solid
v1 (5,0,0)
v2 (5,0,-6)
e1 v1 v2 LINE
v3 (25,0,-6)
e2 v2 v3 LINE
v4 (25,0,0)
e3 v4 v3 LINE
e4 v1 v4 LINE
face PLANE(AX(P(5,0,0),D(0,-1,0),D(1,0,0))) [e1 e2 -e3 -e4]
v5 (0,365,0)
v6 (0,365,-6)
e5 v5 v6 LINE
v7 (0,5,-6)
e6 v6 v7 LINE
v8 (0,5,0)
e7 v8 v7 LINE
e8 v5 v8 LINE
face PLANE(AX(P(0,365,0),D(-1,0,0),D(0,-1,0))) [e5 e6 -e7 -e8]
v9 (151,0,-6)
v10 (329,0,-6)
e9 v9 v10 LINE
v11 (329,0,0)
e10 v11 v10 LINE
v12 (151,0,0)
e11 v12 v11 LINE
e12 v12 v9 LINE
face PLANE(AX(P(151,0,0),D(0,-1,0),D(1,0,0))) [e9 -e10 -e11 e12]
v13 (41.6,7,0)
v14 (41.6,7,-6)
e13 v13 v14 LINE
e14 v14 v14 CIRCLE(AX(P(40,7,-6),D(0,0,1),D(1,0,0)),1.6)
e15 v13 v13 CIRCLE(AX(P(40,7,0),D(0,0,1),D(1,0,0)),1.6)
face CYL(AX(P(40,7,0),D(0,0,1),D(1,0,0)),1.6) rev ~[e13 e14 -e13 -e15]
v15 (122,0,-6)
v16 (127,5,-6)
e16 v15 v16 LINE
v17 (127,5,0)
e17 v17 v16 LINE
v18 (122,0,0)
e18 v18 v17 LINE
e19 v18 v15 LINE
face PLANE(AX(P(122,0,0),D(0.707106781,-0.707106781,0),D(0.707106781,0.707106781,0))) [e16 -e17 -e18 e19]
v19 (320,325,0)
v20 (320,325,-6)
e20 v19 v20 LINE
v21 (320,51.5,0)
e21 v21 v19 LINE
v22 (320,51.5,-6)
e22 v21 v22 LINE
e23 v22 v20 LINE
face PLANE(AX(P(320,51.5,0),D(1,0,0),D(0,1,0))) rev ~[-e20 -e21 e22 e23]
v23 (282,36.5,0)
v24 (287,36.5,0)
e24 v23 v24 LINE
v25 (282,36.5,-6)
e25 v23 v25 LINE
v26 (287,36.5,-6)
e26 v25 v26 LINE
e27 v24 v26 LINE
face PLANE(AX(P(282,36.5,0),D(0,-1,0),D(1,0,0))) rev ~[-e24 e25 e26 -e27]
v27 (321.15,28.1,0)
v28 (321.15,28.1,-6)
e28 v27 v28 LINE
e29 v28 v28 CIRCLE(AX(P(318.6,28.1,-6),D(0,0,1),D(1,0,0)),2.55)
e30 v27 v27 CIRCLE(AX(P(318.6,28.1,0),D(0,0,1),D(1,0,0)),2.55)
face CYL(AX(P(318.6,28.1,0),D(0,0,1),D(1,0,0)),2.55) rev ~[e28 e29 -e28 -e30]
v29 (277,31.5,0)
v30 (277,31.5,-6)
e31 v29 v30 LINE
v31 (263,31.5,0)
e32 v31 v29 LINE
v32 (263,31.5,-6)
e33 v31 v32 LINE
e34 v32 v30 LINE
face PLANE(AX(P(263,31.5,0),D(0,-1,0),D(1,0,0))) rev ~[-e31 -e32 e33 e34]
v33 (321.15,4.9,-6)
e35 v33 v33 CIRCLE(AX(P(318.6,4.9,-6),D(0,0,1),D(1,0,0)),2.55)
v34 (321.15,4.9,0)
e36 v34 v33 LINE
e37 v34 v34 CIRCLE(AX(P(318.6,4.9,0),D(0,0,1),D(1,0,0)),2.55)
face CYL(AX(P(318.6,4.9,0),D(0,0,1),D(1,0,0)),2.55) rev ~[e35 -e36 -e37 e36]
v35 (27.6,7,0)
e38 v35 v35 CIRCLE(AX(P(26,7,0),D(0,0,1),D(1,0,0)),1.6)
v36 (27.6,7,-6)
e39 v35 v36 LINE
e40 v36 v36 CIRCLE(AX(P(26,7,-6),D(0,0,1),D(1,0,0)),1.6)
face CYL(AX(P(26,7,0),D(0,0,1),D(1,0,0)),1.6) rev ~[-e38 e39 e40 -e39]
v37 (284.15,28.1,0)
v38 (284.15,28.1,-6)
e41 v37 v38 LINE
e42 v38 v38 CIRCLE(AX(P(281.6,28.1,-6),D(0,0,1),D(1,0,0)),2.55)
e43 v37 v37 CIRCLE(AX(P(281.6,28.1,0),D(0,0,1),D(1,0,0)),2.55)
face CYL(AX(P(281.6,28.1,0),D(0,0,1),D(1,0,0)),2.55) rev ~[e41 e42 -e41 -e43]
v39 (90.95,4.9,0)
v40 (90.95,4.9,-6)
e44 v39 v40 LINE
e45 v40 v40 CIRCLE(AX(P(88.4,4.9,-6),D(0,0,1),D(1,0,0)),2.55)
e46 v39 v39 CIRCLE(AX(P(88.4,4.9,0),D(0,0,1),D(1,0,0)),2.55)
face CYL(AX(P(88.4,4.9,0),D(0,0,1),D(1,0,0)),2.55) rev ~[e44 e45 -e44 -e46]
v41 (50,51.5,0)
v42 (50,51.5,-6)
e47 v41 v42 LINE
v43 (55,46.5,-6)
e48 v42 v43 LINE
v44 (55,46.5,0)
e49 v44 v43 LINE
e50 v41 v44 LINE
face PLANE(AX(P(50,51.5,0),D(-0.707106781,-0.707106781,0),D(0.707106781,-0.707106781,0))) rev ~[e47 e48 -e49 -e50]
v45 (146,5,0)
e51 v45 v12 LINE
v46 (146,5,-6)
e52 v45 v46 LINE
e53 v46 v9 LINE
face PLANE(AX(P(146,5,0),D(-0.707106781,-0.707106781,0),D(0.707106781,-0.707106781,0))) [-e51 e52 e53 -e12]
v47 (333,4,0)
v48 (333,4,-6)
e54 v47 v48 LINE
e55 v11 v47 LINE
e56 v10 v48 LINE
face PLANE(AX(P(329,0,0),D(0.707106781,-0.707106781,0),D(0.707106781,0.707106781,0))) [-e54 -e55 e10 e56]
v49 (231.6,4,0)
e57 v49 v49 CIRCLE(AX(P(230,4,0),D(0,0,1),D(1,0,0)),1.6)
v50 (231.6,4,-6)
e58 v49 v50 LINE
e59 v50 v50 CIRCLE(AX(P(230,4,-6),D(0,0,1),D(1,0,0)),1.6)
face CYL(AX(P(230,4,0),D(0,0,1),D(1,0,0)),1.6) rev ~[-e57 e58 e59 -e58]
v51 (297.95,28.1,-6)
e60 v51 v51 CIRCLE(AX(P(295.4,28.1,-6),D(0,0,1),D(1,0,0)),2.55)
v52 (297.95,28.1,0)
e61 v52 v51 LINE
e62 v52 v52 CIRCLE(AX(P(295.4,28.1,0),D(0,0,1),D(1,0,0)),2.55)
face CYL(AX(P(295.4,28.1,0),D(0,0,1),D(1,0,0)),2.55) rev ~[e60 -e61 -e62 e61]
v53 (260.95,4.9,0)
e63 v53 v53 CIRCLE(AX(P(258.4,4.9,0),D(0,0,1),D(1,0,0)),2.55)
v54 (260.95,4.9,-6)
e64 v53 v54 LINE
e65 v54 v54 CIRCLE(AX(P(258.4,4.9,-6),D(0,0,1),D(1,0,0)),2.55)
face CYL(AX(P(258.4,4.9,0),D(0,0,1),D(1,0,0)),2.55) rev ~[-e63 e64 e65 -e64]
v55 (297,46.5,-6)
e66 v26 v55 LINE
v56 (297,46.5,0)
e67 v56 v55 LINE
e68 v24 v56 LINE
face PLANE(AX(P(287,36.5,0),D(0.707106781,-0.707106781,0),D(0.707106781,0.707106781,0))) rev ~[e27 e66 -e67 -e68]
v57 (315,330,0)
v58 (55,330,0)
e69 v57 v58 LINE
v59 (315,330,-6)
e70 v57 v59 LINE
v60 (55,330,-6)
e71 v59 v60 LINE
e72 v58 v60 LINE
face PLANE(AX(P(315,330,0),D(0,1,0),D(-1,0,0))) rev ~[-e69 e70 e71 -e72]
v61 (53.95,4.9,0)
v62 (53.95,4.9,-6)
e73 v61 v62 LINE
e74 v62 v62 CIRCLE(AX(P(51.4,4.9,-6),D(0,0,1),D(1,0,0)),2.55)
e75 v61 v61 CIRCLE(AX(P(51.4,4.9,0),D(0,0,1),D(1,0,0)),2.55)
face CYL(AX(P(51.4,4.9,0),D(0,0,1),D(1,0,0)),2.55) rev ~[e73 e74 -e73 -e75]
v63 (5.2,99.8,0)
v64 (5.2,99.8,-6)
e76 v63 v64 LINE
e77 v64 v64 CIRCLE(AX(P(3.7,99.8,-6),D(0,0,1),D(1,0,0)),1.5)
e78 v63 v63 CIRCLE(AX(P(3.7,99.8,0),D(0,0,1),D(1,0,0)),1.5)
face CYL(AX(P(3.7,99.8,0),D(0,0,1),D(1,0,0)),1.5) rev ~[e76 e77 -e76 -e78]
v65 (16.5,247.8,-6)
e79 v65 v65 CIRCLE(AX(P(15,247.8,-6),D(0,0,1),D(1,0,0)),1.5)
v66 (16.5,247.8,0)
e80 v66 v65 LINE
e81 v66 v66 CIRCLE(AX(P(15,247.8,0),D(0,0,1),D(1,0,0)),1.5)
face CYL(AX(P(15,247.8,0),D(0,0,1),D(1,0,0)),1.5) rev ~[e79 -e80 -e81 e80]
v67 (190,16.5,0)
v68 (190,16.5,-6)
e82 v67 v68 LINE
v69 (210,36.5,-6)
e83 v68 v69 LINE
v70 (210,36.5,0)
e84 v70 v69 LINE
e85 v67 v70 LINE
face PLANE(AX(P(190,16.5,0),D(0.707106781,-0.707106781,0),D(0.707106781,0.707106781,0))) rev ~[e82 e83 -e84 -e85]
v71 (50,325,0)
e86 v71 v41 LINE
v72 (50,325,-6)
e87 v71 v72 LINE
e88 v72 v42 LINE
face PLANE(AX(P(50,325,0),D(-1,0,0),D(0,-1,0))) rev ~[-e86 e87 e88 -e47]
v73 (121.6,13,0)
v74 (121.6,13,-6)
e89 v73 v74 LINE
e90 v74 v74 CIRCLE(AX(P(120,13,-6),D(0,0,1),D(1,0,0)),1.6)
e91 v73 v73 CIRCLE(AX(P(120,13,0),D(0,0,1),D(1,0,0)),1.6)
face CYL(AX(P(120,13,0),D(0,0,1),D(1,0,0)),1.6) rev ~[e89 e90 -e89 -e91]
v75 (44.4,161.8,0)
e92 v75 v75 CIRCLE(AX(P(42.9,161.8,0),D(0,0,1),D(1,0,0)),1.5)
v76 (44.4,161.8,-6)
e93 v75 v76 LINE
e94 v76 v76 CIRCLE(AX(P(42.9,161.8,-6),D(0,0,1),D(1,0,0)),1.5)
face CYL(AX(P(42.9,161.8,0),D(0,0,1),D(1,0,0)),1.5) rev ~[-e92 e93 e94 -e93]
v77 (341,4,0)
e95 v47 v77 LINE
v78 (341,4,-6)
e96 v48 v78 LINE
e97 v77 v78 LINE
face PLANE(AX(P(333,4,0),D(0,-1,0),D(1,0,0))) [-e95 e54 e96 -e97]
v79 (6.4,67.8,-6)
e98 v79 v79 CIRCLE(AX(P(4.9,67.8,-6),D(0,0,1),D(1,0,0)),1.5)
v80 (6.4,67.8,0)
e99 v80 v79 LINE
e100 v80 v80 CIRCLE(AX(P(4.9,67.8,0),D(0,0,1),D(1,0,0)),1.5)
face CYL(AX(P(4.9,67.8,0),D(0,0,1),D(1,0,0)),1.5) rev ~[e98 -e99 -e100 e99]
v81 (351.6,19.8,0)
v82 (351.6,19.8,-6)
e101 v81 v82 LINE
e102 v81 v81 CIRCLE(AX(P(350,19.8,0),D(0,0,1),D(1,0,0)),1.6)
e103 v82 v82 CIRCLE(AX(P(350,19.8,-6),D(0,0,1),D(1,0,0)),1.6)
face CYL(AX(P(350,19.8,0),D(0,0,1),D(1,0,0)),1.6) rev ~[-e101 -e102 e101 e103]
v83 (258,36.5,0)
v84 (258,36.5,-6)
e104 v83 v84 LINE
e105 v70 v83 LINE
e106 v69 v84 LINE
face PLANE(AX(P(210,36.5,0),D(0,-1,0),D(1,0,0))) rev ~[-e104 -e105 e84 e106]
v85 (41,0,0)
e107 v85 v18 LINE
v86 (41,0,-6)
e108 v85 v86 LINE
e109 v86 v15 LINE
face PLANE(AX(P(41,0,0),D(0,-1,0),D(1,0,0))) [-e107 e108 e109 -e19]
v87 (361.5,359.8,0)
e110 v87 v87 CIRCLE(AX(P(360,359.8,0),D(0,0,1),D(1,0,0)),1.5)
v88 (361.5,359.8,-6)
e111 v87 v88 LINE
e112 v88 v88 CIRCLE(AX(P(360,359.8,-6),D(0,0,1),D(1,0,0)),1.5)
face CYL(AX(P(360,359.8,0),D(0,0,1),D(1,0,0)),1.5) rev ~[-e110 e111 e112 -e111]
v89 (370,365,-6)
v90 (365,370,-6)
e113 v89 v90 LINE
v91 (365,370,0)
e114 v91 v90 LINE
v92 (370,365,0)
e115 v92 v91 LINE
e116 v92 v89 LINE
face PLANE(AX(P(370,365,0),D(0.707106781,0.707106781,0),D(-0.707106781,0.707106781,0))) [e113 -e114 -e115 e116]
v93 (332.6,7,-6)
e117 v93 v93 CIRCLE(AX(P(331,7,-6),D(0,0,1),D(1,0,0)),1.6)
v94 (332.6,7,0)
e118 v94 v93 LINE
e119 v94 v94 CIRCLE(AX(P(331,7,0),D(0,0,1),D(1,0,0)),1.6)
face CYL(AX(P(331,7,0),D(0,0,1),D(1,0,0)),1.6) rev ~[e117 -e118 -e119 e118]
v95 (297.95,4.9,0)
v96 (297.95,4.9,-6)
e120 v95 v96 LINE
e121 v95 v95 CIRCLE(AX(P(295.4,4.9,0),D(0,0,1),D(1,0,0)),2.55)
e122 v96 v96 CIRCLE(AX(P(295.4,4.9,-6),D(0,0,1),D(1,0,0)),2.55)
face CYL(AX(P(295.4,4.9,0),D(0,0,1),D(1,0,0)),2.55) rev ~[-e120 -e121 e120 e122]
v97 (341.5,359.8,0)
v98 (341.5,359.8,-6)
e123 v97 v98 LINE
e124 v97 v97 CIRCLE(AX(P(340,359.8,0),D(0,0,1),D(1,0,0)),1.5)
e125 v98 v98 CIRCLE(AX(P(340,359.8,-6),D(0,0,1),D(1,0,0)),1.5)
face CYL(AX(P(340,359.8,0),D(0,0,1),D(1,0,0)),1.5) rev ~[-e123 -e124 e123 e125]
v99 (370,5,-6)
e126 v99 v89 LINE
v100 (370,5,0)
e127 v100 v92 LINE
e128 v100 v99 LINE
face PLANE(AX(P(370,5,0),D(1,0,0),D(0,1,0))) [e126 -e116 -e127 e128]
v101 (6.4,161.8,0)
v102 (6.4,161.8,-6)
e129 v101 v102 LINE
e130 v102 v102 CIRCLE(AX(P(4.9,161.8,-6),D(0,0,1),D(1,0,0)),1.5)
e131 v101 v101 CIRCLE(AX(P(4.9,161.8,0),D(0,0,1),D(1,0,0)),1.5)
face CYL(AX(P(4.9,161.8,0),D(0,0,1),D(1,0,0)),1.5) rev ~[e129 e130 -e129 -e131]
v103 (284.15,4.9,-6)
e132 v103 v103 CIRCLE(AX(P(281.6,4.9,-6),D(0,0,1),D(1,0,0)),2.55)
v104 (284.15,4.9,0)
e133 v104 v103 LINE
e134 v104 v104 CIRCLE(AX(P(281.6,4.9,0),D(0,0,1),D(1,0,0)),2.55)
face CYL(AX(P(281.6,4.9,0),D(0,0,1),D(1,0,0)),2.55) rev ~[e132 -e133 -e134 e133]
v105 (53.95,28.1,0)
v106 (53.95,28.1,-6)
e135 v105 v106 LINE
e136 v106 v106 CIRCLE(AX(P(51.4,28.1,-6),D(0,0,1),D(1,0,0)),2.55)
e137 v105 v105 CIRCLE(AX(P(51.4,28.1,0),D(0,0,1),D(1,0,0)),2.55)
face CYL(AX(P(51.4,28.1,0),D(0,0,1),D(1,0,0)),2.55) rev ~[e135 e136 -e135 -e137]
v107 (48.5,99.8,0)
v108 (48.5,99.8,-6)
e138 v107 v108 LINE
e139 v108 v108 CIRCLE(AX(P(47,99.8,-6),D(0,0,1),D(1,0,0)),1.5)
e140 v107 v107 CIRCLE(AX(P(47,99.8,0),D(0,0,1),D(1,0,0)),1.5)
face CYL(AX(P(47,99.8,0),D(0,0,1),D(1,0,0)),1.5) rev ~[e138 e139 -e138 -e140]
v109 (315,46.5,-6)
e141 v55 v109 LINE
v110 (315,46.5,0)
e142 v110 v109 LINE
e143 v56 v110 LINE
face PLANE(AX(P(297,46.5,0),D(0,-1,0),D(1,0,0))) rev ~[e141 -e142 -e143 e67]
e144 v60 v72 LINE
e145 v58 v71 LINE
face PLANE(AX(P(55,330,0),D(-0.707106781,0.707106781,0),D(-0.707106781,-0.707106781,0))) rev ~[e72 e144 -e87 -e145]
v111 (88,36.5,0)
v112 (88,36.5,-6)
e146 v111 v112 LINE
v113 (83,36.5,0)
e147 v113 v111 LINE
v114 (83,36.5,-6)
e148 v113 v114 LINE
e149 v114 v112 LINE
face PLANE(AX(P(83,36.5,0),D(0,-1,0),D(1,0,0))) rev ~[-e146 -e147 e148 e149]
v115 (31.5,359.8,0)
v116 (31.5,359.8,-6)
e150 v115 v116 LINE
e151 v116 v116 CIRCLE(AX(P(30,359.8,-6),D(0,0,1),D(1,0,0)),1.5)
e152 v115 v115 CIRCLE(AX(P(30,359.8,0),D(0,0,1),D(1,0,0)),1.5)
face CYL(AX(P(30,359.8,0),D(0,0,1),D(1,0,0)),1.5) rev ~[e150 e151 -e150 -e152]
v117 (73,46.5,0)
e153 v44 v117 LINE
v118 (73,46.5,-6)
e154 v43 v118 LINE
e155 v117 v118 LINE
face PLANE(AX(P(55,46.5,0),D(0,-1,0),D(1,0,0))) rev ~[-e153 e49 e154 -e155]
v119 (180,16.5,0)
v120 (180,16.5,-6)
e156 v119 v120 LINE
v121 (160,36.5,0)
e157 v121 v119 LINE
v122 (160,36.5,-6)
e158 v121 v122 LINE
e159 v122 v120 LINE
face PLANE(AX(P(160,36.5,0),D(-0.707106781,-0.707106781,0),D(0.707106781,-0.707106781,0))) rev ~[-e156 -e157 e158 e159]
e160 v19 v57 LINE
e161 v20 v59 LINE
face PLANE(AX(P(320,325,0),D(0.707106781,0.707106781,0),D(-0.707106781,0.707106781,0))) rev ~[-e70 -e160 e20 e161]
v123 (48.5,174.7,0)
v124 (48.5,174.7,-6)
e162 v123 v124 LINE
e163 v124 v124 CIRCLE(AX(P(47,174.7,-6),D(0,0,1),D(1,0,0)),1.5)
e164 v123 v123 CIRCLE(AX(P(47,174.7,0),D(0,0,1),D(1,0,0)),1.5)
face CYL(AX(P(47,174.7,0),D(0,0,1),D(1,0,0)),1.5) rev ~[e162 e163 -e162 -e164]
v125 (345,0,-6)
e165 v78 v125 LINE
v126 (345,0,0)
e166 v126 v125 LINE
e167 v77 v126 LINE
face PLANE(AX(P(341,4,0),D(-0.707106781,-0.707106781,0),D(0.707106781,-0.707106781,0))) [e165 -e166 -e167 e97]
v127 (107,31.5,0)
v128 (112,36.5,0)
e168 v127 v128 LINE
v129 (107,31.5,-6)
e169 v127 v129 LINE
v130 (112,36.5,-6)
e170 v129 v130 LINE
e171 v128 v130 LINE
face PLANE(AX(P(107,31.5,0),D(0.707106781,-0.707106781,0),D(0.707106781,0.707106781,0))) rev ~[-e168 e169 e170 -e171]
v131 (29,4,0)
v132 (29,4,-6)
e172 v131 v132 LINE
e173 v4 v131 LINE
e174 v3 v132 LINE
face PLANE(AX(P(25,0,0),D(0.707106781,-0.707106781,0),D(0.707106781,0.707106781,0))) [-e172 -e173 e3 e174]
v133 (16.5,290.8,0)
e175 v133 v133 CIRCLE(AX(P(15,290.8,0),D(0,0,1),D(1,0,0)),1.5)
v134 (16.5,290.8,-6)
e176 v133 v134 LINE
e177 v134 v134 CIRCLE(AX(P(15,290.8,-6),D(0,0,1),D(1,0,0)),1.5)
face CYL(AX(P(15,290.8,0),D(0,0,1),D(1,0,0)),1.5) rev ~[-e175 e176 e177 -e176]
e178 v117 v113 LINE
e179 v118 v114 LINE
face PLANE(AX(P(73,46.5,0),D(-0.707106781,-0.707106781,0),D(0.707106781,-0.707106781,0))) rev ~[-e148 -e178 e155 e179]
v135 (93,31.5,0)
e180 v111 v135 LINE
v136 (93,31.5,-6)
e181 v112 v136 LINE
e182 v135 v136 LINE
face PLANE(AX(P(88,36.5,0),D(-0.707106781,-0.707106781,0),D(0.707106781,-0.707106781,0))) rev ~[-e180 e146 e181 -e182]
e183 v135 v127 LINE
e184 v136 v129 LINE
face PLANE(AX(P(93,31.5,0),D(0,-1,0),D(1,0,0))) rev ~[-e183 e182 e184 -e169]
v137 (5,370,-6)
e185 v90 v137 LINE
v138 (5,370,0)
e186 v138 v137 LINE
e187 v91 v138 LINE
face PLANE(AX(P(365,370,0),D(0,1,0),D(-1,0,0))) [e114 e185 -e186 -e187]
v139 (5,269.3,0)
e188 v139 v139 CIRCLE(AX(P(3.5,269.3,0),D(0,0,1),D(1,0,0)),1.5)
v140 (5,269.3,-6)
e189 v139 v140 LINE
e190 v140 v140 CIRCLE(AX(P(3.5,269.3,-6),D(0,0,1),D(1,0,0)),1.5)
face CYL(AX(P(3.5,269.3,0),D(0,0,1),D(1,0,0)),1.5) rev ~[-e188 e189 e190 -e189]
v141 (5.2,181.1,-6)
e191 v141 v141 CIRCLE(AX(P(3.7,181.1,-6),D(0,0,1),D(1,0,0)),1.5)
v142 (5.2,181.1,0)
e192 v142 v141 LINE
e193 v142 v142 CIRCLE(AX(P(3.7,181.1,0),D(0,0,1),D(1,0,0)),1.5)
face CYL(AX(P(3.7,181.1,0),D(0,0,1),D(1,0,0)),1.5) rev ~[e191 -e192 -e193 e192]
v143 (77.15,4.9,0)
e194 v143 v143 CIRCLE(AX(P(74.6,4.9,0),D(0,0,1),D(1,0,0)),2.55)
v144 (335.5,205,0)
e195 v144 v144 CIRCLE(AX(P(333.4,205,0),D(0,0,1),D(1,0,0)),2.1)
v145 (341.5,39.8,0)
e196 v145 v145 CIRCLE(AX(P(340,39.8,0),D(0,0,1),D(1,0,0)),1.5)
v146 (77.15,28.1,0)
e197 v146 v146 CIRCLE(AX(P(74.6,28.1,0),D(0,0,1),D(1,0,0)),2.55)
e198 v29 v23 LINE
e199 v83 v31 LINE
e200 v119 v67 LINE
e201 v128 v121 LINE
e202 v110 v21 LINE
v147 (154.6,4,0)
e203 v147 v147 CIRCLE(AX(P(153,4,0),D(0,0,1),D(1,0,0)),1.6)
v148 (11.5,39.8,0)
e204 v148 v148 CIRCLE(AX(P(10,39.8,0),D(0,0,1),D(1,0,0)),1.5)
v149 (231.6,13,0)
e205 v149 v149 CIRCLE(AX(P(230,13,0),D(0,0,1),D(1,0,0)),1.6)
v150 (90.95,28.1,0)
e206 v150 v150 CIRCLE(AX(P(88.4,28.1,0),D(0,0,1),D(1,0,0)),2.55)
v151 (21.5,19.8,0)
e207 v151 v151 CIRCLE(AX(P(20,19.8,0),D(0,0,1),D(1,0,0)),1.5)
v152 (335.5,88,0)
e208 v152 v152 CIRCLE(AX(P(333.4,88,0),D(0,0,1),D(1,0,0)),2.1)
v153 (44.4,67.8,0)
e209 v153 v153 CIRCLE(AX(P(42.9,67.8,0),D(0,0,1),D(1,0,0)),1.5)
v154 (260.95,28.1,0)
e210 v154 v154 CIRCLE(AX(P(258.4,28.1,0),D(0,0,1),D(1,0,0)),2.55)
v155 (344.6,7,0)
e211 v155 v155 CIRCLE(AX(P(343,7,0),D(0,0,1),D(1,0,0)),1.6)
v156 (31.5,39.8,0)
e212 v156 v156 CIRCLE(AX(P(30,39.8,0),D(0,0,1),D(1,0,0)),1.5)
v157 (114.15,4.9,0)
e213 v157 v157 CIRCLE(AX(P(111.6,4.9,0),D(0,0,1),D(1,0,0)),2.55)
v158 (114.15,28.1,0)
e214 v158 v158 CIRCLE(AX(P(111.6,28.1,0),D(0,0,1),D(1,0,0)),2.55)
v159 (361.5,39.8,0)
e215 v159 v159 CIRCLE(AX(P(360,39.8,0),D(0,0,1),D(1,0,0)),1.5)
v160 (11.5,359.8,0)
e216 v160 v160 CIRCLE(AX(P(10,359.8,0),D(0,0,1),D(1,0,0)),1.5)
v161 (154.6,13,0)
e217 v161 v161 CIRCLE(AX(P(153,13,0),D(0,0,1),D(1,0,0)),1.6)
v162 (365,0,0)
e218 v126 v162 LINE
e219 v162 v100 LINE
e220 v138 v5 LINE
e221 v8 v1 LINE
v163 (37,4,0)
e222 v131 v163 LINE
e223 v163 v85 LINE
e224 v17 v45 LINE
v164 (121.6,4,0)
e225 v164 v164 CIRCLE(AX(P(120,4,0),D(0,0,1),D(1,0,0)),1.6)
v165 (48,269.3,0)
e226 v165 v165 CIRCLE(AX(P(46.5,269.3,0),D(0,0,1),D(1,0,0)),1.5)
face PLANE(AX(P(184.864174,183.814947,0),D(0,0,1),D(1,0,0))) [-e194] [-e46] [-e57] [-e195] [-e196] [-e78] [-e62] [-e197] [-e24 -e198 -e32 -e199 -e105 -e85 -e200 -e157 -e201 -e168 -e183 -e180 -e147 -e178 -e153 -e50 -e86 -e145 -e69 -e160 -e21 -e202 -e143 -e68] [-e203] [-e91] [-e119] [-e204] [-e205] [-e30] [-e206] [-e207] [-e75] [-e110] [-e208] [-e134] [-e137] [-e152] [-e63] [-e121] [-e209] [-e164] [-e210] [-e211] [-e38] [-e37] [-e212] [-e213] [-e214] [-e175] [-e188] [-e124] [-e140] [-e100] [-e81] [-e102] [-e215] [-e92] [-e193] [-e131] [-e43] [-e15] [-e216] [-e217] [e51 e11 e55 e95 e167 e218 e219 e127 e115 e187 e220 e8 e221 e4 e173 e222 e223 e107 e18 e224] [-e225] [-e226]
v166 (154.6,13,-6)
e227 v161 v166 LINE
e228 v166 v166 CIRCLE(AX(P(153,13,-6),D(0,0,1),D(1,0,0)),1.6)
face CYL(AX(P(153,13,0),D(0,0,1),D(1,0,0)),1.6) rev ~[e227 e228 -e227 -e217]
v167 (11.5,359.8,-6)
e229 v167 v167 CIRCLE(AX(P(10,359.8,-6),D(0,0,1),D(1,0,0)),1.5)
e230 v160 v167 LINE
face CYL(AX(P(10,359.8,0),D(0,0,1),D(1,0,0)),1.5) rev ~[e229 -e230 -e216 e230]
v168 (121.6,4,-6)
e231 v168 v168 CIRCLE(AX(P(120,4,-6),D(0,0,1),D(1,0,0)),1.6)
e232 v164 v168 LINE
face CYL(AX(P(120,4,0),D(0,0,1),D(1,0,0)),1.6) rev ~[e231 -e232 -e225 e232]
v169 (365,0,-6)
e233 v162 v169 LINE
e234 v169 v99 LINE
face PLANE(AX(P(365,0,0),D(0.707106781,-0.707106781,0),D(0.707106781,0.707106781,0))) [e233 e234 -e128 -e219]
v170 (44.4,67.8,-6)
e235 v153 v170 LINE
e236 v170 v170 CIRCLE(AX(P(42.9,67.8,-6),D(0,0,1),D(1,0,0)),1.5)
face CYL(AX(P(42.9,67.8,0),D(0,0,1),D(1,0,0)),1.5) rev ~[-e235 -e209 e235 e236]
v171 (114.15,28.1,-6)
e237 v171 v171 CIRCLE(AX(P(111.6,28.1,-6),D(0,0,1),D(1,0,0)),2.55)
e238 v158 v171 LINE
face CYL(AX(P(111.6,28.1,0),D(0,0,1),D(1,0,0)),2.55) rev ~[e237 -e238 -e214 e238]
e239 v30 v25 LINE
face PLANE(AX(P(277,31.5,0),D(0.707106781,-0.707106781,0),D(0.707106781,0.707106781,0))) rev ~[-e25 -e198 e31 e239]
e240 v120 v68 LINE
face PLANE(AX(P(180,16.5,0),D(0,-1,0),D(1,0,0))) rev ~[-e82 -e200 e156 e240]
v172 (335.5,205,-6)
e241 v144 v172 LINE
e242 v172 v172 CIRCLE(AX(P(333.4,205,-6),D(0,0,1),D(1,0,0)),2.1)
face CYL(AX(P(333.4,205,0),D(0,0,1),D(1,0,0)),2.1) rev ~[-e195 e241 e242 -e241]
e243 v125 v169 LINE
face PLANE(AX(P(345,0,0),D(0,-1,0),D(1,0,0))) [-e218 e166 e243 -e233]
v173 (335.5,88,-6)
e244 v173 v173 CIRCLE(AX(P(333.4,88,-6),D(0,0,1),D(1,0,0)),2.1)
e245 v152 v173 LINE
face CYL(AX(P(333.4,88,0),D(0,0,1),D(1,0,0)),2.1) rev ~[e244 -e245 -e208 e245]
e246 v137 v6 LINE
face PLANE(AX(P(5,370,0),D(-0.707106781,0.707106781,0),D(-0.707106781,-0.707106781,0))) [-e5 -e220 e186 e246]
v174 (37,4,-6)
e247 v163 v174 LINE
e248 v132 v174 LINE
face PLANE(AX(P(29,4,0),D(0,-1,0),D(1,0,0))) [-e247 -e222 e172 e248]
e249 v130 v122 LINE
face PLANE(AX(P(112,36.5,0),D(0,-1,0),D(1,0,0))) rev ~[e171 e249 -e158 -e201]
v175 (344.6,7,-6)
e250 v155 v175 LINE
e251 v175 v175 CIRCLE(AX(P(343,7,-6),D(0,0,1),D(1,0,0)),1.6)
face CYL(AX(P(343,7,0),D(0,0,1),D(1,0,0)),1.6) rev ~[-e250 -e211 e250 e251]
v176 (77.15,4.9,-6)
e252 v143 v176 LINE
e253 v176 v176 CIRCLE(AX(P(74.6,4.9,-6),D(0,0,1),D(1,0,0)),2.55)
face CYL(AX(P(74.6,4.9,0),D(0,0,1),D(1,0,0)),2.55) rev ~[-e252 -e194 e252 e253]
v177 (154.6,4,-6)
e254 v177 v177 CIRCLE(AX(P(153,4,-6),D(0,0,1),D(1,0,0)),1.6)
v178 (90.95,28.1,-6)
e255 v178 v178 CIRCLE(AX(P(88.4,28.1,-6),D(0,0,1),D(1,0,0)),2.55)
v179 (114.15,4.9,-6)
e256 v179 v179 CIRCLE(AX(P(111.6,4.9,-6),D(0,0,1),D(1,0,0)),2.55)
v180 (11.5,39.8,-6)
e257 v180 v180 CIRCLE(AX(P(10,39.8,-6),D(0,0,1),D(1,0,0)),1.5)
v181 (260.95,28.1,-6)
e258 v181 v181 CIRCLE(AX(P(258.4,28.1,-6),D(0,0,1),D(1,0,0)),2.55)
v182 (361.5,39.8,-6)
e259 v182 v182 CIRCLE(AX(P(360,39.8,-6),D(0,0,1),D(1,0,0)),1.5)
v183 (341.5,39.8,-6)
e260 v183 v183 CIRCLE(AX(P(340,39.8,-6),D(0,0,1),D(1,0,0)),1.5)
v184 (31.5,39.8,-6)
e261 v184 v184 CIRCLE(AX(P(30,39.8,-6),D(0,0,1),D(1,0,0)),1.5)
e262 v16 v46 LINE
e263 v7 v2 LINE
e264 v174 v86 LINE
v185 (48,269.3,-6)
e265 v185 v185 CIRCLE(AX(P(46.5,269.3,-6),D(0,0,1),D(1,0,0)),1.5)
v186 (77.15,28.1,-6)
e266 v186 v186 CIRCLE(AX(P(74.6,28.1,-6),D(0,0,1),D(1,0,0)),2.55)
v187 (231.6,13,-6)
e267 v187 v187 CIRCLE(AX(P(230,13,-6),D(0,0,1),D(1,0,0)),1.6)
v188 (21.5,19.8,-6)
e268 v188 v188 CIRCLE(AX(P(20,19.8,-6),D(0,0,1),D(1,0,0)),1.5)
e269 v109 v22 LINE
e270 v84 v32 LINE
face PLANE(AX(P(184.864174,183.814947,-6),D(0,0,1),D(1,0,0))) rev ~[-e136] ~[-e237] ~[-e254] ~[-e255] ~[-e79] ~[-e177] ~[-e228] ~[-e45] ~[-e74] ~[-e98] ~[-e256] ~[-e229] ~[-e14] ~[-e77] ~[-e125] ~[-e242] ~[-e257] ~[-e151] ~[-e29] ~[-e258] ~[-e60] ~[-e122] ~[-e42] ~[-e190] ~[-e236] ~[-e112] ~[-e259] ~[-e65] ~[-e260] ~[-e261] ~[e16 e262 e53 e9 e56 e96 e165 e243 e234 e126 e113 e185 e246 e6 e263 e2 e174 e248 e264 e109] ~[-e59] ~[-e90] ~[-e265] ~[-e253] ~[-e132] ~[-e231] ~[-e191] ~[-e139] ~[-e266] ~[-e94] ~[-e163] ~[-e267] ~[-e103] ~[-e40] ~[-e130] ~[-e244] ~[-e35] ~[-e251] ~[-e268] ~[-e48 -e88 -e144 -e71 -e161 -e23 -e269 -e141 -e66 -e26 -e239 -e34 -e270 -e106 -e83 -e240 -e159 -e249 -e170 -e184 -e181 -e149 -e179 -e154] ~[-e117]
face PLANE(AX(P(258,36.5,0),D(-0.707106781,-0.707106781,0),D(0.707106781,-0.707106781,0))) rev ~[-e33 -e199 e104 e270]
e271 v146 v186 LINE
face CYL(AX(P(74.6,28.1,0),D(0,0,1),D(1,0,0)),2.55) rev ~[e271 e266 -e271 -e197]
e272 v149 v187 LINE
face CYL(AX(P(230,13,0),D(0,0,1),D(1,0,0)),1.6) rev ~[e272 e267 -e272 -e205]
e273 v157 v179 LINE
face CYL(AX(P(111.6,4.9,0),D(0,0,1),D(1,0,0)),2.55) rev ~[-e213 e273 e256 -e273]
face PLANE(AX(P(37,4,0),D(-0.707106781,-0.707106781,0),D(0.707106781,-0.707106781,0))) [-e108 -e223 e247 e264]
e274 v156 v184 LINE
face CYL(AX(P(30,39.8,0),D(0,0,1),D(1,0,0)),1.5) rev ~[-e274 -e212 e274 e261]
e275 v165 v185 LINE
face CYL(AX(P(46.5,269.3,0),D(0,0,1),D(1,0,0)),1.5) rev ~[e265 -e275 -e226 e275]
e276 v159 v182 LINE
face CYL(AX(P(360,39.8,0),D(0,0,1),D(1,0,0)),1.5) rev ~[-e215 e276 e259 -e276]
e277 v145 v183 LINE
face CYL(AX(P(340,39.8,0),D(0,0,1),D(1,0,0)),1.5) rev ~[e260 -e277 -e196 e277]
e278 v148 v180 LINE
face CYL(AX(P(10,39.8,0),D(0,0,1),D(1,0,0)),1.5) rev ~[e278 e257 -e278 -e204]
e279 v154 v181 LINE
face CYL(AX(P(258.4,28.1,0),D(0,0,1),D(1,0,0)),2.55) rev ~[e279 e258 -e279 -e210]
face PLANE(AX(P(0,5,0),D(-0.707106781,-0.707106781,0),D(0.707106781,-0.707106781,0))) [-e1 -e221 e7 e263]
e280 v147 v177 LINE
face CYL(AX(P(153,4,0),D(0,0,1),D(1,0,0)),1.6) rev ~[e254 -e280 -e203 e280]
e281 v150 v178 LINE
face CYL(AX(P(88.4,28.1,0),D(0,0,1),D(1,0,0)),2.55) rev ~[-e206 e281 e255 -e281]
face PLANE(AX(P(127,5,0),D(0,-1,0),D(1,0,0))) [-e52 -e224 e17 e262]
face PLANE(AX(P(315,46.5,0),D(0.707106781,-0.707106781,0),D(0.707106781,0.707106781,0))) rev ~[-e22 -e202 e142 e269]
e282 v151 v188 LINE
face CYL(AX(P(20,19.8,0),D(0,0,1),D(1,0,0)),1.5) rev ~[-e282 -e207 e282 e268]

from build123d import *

# Parameters (mm, degrees)
SKICA1_R                = 2.55
SKICA1_R_2              = 1.5
SKICA1_R_3              = 1.6
SKICA1_R_4              = 2.1
P_IDAT_VYSUNUT_M1_DEPTH = 6


with BuildPart() as part:
    # Skica1 → Přidat vysunutím1 (new body)
    with BuildSketch(Plane.XY):
        Polygon((41, 0), (122, 0), (127, 5), (146, 5), (151, 0), (329, 0), (333, 4), (341, 4), (345, 0), (365, 0), (370, 5), (370, 365), (365, 370), (5, 370), (0, 365), (0, 5), (5, 0), (25, 0), (29, 4), (37, 4), align=None)
        with Locations((111.6, 4.9)):
            Circle(SKICA1_R, mode=Mode.SUBTRACT)
        with Locations((111.6, 28.1)):
            Circle(SKICA1_R, mode=Mode.SUBTRACT)
        with Locations((258.4, 28.1)):
            Circle(SKICA1_R, mode=Mode.SUBTRACT)
        with Locations((258.4, 4.9)):
            Circle(SKICA1_R, mode=Mode.SUBTRACT)
        with Locations((88.4, 28.1)):
            Circle(SKICA1_R, mode=Mode.SUBTRACT)
        with Locations((88.4, 4.9)):
            Circle(SKICA1_R, mode=Mode.SUBTRACT)
        with Locations((74.6, 4.9)):
            Circle(SKICA1_R, mode=Mode.SUBTRACT)
        with Locations((74.6, 28.1)):
            Circle(SKICA1_R, mode=Mode.SUBTRACT)
        with Locations((51.4, 28.1)):
            Circle(SKICA1_R, mode=Mode.SUBTRACT)
        with Locations((51.4, 4.9)):
            Circle(SKICA1_R, mode=Mode.SUBTRACT)
        with Locations((281.6, 28.1)):
            Circle(SKICA1_R, mode=Mode.SUBTRACT)
        with Locations((281.6, 4.9)):
            Circle(SKICA1_R, mode=Mode.SUBTRACT)
        with Locations((295.4, 4.9)):
            Circle(SKICA1_R, mode=Mode.SUBTRACT)
        with Locations((318.6, 4.9)):
            Circle(SKICA1_R, mode=Mode.SUBTRACT)
        with Locations((318.6, 28.1)):
            Circle(SKICA1_R, mode=Mode.SUBTRACT)
        with Locations((295.4, 28.1)):
            Circle(SKICA1_R, mode=Mode.SUBTRACT)
        with Locations((3.7, 99.8)):
            Circle(SKICA1_R_2, mode=Mode.SUBTRACT)
        with Locations((47, 99.8)):
            Circle(SKICA1_R_2, mode=Mode.SUBTRACT)
        with Locations((42.9, 67.8)):
            Circle(SKICA1_R_2, mode=Mode.SUBTRACT)
        with Locations((4.9, 67.8)):
            Circle(SKICA1_R_2, mode=Mode.SUBTRACT)
        with Locations((30, 39.8)):
            Circle(SKICA1_R_2, mode=Mode.SUBTRACT)
        with Locations((10, 39.8)):
            Circle(SKICA1_R_2, mode=Mode.SUBTRACT)
        with Locations((20, 19.8)):
            Circle(SKICA1_R_2, mode=Mode.SUBTRACT)
        with Locations((340, 39.8)):
            Circle(SKICA1_R_2, mode=Mode.SUBTRACT)
        with Locations((360, 39.8)):
            Circle(SKICA1_R_2, mode=Mode.SUBTRACT)
        with Locations((340, 359.8)):
            Circle(SKICA1_R_2, mode=Mode.SUBTRACT)
        with Locations((360, 359.8)):
            Circle(SKICA1_R_2, mode=Mode.SUBTRACT)
        with Locations((10, 359.8)):
            Circle(SKICA1_R_2, mode=Mode.SUBTRACT)
        with Locations((30, 359.8)):
            Circle(SKICA1_R_2, mode=Mode.SUBTRACT)
        with Locations((15, 247.8)):
            Circle(SKICA1_R_2, mode=Mode.SUBTRACT)
        with Locations((3.5, 269.3)):
            Circle(SKICA1_R_2, mode=Mode.SUBTRACT)
        with Locations((46.5, 269.3)):
            Circle(SKICA1_R_2, mode=Mode.SUBTRACT)
        with Locations((15, 290.8)):
            Circle(SKICA1_R_2, mode=Mode.SUBTRACT)
        with Locations((4.9, 161.8)):
            Circle(SKICA1_R_2, mode=Mode.SUBTRACT)
        with Locations((3.7, 181.1)):
            Circle(SKICA1_R_2, mode=Mode.SUBTRACT)
        with Locations((42.9, 161.8)):
            Circle(SKICA1_R_2, mode=Mode.SUBTRACT)
        with Locations((47, 174.7)):
            Circle(SKICA1_R_2, mode=Mode.SUBTRACT)
        with Locations((26, 7)):
            Circle(SKICA1_R_3, mode=Mode.SUBTRACT)
        with Locations((40, 7)):
            Circle(SKICA1_R_3, mode=Mode.SUBTRACT)
        with Locations((120, 4)):
            Circle(SKICA1_R_3, mode=Mode.SUBTRACT)
        with Locations((120, 13)):
            Circle(SKICA1_R_3, mode=Mode.SUBTRACT)
        with Locations((153, 13)):
            Circle(SKICA1_R_3, mode=Mode.SUBTRACT)
        with Locations((153, 4)):
            Circle(SKICA1_R_3, mode=Mode.SUBTRACT)
        with Locations((230, 13)):
            Circle(SKICA1_R_3, mode=Mode.SUBTRACT)
        with Locations((230, 4)):
            Circle(SKICA1_R_3, mode=Mode.SUBTRACT)
        with Locations((331, 7)):
            Circle(SKICA1_R_3, mode=Mode.SUBTRACT)
        with Locations((343, 7)):
            Circle(SKICA1_R_3, mode=Mode.SUBTRACT)
        with Locations((350, 19.8)):
            Circle(SKICA1_R_3, mode=Mode.SUBTRACT)
        with Locations((333.4, 88)):
            Circle(SKICA1_R_4, mode=Mode.SUBTRACT)
        with Locations((333.4, 205)):
            Circle(SKICA1_R_4, mode=Mode.SUBTRACT)
        Polygon((320, 51.5), (320, 325), (315, 330), (55, 330), (50, 325), (50, 51.5), (55, 46.5), (73, 46.5), (83, 36.5), (88, 36.5), (93, 31.5), (107, 31.5), (112, 36.5), (160, 36.5), (180, 16.5), (190, 16.5), (210, 36.5), (258, 36.5), (263, 31.5), (277, 31.5), (282, 36.5), (287, 36.5), (297, 46.5), (315, 46.5), align=None, mode=Mode.SUBTRACT)
    extrude(amount=-P_IDAT_VYSUNUT_M1_DEPTH)


solid = part.part
